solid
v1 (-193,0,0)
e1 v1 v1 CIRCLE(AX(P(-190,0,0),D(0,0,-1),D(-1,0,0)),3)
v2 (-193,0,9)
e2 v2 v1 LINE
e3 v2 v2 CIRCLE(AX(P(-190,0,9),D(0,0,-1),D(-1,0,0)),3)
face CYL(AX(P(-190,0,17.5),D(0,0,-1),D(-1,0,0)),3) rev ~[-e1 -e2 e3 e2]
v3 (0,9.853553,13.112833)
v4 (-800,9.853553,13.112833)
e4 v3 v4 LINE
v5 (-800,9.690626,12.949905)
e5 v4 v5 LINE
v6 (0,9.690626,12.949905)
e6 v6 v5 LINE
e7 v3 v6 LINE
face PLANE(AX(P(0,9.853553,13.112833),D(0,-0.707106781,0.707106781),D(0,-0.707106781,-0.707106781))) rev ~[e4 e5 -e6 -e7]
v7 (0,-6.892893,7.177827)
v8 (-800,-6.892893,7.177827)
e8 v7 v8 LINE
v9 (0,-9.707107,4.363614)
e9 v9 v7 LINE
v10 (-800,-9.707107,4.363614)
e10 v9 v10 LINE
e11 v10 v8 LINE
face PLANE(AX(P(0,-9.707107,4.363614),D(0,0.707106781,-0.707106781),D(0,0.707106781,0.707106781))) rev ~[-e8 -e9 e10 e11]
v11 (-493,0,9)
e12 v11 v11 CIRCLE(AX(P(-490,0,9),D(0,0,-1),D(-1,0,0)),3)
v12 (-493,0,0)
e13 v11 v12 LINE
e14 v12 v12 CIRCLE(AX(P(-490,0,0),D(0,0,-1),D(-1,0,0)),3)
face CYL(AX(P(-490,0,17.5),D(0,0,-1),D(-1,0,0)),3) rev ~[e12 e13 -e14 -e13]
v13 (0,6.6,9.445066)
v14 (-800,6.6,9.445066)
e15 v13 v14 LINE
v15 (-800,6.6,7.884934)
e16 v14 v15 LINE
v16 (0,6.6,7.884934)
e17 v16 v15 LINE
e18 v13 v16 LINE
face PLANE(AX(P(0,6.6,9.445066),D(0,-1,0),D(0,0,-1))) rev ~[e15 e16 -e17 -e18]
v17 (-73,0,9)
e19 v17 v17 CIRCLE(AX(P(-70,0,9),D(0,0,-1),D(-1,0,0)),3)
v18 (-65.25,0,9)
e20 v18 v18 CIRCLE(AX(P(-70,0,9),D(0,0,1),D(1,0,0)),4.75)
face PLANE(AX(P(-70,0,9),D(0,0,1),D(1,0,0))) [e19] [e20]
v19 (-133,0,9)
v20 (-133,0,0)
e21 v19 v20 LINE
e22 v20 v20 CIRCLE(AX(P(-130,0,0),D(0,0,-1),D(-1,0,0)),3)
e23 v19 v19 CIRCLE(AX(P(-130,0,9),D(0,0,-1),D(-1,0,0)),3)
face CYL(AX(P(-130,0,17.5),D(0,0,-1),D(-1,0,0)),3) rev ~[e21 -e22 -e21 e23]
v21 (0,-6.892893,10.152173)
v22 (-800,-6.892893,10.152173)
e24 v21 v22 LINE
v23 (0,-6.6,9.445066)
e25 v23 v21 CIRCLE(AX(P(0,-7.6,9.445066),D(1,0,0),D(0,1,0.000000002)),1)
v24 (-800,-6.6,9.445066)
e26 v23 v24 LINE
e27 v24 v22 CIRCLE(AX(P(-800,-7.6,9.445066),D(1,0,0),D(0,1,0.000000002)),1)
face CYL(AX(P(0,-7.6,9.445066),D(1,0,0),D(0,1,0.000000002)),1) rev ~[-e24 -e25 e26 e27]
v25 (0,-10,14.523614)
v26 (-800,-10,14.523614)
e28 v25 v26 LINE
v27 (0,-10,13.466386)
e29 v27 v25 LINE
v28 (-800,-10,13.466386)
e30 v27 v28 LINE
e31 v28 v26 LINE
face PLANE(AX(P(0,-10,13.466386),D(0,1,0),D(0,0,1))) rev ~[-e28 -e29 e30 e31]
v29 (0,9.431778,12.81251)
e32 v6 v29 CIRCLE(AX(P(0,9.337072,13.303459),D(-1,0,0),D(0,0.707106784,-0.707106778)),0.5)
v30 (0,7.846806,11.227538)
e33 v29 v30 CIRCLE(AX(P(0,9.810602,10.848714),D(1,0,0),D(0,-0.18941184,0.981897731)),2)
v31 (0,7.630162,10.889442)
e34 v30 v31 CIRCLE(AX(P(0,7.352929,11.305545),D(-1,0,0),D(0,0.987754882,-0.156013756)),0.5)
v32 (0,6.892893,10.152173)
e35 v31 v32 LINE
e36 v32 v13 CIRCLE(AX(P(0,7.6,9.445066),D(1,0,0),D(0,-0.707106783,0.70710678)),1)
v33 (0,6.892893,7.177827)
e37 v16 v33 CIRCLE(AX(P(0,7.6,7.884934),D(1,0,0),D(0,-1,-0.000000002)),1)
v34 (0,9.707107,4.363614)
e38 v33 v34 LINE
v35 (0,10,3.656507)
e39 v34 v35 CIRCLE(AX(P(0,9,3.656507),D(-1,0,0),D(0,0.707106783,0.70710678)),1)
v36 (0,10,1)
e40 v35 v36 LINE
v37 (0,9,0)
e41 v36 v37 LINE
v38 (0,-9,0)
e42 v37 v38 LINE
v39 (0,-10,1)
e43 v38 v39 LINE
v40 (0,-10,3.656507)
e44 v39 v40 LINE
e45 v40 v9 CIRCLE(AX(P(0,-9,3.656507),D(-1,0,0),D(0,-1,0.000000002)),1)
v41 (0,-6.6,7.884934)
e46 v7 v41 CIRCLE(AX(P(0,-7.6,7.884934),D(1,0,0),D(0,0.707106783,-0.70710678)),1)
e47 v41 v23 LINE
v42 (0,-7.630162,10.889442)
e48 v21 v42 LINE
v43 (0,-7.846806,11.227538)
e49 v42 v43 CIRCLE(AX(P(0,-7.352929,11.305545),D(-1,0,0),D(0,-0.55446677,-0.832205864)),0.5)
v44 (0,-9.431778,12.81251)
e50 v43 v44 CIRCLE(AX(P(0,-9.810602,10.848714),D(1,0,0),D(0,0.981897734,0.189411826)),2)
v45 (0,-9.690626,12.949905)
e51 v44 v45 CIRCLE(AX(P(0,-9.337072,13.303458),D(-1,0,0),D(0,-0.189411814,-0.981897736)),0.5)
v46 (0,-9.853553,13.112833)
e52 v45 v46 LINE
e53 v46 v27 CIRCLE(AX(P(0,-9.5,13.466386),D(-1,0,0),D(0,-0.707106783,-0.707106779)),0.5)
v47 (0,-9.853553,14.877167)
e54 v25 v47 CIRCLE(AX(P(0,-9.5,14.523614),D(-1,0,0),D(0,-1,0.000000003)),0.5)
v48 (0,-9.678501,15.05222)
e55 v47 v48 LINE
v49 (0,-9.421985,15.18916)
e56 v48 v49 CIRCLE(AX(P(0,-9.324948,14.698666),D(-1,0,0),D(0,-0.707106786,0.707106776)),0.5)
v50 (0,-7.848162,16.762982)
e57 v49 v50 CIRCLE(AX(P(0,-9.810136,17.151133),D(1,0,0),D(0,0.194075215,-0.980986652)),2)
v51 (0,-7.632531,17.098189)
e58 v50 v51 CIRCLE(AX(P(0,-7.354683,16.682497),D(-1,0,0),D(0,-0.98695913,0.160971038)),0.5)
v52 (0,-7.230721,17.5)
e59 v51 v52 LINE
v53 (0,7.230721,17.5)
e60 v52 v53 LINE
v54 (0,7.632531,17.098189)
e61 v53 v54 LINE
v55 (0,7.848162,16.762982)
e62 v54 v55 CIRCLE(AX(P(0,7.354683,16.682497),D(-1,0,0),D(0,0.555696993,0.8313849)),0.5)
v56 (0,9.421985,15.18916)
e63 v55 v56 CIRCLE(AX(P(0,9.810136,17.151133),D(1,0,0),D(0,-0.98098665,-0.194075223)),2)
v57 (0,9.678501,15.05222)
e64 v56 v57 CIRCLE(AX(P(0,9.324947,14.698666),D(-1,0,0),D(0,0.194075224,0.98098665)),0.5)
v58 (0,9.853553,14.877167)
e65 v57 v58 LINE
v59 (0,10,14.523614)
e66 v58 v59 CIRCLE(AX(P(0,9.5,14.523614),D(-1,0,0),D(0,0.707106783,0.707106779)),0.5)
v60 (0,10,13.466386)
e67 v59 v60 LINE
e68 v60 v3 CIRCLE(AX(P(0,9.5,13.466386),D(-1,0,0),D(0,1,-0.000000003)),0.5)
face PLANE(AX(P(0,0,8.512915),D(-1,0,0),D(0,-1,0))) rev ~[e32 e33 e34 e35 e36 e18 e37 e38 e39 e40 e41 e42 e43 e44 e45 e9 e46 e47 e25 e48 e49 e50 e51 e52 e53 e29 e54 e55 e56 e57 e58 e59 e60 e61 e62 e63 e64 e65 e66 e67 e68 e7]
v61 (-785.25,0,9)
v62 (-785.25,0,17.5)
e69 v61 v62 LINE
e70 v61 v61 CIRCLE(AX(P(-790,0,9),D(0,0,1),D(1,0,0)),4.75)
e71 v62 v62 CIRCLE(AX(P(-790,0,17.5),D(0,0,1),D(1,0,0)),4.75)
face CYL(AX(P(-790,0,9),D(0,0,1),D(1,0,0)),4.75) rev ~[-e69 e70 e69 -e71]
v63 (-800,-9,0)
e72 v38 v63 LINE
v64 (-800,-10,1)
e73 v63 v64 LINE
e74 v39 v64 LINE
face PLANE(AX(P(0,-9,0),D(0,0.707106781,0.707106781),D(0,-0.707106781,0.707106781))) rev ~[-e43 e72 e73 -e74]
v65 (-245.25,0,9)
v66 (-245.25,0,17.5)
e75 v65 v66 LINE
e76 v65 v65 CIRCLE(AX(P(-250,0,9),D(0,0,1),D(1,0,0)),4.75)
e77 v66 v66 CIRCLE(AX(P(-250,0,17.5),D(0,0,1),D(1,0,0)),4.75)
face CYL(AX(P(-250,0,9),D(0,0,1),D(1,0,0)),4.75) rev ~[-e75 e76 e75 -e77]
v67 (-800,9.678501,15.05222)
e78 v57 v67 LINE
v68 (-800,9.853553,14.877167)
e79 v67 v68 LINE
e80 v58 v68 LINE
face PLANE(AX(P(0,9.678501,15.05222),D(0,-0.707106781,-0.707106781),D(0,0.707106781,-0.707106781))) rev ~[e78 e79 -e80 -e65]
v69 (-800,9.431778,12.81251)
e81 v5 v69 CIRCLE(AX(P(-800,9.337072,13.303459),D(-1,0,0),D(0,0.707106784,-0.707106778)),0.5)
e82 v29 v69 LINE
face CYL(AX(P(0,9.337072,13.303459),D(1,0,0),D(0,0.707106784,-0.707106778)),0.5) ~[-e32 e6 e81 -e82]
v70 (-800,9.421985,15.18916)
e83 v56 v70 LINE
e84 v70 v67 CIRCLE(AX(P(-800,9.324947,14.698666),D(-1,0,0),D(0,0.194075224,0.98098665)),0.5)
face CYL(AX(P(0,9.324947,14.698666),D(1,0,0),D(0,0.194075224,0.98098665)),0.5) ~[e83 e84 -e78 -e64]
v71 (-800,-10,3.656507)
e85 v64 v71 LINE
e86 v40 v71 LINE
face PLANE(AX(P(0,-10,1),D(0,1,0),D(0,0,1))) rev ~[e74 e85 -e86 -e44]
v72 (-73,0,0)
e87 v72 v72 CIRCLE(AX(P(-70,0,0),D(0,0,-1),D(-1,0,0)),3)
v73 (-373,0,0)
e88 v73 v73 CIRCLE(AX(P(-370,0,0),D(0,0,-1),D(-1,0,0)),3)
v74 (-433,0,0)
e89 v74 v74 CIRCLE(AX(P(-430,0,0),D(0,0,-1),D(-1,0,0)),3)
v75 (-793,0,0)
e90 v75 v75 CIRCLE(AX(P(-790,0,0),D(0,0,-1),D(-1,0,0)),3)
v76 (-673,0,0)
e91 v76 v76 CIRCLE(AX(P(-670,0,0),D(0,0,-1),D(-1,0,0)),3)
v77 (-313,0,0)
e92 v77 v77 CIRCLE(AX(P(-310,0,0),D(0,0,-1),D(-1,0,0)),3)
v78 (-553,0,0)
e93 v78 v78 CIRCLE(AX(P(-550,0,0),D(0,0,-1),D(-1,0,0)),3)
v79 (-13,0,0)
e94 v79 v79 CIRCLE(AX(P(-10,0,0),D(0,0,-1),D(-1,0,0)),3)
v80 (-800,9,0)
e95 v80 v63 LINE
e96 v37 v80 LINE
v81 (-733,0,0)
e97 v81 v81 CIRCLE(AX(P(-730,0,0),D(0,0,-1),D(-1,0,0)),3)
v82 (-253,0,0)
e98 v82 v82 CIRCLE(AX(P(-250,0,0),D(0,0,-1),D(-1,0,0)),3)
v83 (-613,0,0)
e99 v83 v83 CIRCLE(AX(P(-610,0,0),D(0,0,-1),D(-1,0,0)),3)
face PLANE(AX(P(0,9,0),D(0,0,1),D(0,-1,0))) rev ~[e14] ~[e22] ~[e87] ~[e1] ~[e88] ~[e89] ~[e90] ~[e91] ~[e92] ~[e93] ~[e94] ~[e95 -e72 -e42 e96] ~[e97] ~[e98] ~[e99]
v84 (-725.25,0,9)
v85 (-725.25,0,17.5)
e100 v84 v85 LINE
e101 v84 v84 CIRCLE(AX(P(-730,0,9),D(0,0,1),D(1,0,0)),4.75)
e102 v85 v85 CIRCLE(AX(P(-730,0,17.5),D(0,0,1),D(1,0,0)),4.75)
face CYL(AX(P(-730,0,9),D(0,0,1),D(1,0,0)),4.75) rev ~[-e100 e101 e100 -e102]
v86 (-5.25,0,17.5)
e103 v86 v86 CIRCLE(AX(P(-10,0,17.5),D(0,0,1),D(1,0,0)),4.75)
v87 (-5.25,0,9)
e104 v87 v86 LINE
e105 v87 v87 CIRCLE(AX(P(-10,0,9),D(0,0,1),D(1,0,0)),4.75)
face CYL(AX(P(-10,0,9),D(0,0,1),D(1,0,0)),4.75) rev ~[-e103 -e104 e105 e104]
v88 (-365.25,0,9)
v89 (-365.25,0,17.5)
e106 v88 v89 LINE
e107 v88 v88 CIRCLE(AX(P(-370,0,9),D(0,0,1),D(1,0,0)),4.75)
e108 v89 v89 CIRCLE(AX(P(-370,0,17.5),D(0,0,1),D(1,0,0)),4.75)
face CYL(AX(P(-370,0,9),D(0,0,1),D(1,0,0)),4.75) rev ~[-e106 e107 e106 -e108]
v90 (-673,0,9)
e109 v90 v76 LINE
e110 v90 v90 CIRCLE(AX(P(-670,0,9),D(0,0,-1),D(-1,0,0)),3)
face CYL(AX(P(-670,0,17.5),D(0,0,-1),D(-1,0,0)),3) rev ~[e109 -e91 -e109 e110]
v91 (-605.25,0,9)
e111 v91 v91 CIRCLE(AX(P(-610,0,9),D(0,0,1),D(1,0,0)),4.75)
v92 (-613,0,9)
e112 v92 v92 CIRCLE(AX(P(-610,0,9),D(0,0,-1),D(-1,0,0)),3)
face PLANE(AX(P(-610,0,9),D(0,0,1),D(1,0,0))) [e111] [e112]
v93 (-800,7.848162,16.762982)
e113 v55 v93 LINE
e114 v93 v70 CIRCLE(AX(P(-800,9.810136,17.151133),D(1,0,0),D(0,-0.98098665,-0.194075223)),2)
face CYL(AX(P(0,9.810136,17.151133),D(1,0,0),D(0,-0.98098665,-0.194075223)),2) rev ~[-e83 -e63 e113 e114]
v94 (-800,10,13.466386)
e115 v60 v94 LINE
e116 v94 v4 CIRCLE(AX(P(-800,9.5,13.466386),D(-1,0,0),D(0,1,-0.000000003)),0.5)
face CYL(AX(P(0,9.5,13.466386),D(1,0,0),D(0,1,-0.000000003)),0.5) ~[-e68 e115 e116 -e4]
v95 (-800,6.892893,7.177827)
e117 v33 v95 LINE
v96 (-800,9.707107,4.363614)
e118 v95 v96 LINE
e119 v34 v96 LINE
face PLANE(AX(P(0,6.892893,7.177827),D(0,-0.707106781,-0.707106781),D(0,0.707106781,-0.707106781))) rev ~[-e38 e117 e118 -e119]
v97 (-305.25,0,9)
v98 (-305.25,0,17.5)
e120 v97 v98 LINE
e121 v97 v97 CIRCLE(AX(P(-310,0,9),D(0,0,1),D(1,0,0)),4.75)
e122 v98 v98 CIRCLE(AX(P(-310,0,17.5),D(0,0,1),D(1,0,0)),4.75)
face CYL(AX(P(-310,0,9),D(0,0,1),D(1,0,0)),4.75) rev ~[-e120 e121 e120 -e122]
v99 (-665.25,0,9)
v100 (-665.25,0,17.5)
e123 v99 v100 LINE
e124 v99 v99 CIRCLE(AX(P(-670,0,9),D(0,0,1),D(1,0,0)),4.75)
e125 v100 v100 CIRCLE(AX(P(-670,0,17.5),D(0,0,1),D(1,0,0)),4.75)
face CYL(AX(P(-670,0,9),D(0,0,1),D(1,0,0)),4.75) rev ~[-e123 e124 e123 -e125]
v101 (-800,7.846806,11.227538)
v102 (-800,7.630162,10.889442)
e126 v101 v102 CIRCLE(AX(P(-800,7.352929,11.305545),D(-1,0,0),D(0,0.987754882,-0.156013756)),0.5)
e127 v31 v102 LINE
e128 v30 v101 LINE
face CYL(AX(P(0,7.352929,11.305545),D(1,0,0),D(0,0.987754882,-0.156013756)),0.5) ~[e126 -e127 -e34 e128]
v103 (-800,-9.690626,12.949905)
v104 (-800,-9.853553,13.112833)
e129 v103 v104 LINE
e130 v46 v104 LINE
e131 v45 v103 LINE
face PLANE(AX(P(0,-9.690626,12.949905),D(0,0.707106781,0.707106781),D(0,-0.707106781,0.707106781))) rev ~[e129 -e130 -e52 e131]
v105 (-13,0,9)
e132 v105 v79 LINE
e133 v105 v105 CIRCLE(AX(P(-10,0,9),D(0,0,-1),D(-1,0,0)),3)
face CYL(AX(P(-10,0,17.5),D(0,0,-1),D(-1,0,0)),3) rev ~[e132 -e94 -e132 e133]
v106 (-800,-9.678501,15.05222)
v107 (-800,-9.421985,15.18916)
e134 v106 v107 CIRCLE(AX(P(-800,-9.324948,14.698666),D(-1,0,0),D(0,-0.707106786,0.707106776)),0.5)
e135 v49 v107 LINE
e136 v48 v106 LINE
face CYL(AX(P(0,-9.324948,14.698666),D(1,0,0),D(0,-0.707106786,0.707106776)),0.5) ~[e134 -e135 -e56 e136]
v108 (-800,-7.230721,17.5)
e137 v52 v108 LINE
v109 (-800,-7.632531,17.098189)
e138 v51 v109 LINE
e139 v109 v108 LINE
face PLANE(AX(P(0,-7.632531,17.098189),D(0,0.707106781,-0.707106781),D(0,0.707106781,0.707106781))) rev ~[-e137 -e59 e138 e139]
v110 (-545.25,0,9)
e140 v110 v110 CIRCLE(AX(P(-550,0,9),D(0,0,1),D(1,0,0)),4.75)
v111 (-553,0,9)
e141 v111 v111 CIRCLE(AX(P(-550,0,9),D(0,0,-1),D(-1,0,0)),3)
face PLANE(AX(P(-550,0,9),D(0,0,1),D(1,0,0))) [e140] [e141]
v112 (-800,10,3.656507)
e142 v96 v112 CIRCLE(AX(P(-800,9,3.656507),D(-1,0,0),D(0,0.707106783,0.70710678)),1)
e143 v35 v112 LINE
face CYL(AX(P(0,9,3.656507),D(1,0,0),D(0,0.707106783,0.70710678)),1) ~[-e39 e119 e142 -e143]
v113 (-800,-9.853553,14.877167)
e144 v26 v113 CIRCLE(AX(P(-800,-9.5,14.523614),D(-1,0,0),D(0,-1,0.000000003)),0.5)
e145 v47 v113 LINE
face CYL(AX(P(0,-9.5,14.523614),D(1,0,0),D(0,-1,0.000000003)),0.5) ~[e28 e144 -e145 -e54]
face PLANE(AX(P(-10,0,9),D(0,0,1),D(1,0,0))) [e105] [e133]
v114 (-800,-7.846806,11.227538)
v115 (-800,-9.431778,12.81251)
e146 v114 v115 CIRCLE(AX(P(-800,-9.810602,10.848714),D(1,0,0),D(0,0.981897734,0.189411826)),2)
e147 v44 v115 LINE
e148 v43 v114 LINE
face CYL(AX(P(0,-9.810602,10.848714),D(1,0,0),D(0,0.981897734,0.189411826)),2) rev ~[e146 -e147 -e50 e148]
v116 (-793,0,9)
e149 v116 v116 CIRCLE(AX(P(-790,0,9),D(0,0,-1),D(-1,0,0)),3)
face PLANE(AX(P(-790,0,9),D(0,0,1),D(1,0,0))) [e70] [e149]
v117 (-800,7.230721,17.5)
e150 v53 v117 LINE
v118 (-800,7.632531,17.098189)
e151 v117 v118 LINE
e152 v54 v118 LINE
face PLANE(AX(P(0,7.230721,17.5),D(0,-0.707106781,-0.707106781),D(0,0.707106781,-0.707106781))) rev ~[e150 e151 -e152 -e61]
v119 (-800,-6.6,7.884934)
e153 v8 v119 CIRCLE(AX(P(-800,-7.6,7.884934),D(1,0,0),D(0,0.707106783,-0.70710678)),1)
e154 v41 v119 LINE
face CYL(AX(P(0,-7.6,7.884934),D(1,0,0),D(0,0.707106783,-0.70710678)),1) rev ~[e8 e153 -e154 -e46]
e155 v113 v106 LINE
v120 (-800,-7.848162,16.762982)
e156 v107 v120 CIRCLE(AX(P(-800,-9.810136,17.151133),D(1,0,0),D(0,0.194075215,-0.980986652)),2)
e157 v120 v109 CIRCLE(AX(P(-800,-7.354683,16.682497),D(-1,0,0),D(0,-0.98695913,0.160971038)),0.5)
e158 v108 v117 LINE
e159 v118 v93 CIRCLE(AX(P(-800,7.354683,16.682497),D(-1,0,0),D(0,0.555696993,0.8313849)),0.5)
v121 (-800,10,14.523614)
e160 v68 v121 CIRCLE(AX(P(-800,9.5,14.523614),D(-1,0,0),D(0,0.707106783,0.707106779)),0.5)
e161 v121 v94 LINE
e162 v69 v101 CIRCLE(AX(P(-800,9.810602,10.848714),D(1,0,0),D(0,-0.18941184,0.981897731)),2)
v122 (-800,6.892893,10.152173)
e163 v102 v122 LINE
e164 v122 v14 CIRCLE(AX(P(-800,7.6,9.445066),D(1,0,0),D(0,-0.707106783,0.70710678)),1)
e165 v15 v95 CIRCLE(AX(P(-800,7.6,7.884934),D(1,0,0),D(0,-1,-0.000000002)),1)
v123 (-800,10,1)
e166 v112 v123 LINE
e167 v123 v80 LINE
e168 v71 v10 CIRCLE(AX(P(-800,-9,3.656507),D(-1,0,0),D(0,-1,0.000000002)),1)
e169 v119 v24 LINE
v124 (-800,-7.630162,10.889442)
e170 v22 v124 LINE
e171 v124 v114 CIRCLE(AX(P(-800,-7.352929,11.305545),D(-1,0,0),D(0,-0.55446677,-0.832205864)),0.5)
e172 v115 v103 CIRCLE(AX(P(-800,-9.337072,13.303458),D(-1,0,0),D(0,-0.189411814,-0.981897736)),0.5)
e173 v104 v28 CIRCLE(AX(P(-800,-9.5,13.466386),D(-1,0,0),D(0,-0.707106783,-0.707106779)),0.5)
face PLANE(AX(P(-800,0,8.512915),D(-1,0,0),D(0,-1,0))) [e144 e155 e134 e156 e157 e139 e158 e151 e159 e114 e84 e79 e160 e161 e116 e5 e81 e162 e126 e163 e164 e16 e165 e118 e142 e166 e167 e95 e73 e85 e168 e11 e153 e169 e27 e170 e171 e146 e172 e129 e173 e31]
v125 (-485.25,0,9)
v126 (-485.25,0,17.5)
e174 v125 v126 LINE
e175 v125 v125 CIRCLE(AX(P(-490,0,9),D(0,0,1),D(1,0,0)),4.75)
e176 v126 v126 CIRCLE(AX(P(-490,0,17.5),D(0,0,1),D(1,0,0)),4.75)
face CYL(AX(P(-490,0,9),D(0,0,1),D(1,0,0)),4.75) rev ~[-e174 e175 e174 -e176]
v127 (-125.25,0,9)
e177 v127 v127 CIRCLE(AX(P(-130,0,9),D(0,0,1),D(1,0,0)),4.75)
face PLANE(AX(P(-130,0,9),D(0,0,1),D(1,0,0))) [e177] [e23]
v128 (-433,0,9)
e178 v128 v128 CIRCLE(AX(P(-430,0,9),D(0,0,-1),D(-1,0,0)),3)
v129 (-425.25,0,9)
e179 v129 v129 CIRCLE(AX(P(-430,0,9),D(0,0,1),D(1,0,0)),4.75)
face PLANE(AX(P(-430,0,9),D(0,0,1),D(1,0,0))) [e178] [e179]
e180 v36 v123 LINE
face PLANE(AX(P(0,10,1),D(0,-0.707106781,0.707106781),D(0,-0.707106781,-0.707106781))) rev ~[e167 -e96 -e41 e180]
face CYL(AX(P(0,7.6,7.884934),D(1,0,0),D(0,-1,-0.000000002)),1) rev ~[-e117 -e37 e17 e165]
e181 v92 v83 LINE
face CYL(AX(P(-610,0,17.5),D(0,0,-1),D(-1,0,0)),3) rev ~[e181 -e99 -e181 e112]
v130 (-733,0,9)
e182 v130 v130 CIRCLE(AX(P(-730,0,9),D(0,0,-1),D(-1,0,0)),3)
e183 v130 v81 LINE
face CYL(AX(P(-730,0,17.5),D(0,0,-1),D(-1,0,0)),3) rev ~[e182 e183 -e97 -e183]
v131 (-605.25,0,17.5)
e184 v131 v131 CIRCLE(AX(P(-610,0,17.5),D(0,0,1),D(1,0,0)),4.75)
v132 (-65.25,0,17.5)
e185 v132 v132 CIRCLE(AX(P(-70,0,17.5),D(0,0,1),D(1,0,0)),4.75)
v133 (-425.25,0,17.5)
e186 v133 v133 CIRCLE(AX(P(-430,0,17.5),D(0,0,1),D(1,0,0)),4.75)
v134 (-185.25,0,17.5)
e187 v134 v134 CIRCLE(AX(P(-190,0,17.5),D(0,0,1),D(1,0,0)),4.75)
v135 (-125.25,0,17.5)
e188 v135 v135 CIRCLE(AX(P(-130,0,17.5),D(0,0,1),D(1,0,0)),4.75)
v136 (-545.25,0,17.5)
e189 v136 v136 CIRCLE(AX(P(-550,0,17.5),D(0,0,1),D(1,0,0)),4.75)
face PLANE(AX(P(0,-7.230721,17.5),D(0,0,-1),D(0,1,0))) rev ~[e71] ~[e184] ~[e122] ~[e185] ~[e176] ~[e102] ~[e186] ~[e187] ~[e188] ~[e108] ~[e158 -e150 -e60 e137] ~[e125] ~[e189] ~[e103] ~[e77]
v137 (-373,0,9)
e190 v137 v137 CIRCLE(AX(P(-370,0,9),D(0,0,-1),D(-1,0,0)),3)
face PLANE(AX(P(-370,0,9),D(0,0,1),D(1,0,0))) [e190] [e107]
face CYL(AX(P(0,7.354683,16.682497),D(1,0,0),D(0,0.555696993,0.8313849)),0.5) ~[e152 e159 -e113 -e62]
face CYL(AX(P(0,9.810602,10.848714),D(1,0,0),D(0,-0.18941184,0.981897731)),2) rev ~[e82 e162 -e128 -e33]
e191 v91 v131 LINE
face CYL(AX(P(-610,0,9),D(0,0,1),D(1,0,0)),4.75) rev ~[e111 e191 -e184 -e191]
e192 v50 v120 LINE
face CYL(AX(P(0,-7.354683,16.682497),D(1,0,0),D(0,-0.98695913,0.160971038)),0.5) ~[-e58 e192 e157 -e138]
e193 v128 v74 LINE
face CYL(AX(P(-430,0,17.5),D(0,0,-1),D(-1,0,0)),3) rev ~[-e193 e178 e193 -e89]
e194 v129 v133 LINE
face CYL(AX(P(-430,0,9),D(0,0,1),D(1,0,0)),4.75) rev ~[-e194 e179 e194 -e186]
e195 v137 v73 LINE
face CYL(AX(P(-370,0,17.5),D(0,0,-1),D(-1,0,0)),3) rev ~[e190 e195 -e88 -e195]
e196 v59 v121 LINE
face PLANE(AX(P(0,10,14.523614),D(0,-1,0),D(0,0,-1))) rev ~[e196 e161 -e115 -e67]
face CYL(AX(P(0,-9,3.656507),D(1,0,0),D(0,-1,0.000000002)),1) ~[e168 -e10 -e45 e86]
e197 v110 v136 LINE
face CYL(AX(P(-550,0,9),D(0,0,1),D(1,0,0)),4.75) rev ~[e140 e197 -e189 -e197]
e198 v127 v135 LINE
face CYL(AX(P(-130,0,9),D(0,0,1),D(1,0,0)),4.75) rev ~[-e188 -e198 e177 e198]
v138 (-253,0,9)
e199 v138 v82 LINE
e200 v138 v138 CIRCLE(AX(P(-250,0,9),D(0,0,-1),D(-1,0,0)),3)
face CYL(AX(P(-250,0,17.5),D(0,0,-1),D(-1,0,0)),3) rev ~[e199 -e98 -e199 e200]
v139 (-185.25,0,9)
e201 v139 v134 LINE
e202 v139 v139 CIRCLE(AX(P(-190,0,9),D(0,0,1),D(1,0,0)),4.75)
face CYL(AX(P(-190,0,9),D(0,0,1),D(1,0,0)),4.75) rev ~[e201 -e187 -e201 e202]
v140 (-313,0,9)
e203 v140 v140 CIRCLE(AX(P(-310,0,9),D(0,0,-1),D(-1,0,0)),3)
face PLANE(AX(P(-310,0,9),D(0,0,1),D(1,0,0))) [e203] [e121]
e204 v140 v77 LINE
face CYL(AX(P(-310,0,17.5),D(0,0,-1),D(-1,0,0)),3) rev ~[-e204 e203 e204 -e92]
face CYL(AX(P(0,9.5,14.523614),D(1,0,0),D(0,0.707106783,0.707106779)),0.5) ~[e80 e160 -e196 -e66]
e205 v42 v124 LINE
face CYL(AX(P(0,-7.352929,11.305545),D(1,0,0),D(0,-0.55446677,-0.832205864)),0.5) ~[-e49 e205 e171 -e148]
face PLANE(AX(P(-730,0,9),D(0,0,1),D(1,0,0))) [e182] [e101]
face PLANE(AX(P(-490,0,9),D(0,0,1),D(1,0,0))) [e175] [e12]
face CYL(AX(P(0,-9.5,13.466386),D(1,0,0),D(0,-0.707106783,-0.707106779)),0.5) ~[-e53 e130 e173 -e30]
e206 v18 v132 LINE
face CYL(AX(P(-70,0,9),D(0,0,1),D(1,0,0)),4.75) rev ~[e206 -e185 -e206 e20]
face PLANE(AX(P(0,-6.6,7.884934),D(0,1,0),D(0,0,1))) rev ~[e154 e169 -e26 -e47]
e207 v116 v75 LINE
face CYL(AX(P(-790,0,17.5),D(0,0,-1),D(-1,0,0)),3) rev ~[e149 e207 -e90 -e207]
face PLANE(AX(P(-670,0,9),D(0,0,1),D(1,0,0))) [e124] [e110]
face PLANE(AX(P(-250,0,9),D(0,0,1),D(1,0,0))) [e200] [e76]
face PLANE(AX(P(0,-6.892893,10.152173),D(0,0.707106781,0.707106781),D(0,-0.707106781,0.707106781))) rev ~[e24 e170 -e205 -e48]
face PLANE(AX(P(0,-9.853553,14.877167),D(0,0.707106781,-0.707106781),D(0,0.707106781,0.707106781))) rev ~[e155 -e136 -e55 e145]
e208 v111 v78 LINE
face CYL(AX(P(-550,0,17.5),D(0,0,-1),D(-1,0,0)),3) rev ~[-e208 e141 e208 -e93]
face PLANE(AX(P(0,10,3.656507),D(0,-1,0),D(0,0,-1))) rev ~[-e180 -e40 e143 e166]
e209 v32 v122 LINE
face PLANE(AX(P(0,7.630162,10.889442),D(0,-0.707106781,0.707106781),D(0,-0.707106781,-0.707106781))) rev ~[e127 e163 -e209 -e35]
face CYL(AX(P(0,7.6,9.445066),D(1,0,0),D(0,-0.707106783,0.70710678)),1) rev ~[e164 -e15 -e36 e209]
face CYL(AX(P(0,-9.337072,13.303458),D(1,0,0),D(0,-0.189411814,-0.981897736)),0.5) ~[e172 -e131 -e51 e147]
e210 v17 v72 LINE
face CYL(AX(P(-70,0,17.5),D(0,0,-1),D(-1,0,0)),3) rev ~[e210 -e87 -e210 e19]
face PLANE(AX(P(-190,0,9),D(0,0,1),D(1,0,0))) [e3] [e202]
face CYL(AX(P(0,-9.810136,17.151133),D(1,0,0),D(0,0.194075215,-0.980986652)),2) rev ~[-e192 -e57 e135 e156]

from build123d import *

# Parameters (mm, degrees)
HGR_HGR20_1_DEPTH = 800
HOLE1_D           = 6
HOLE1_CBORE_D     = 9.5
HOLE1_CBORE_DEPTH = 8.5
CRVPATTERN1_COUNT = 14
CRVPATTERN1_PITCH = 60


with BuildPart() as part:
    # Sketch14 → Hgr HGR20(1) (new body)
    with BuildSketch(Plane(origin=(0, 0, 0), x_dir=(0, -1, 0), z_dir=(-1, 0, 0))):
        with BuildLine():
            Line((-9, 0), (9, 0))
            Line((9, 0), (10, 1))
            Line((10, 1), (10, 3.656507036))
            ThreePointArc((10, 3.656507036), (9.92387953, 4.039190479), (9.707106773, 4.363613837))
            Line((9.707106773, 4.363613837), (6.892893227, 7.177827383))
            ThreePointArc((6.892893227, 7.177827383), (6.67612047, 7.502250741), (6.6, 7.884934184))
            Line((6.6, 7.884934184), (6.6, 9.445065806))
            ThreePointArc((6.6, 9.445065806), (6.67612047, 9.827749249), (6.892893227, 10.152172607))
            Line((6.892893227, 10.152172607), (7.63016236, 10.88944174))
            ThreePointArc((7.63016236, 10.88944174), (7.773916168, 11.035785916), (7.84680643, 11.2275378))
            ThreePointArc((7.84680643, 11.2275378), (8.396388337, 12.262927707), (9.431778248, 12.812509604))
            ThreePointArc((9.431778248, 12.812509604), (9.57149389, 12.861817745), (9.690625667, 12.949905047))
            Line((9.690625667, 12.949905047), (9.85355341, 13.11283279))
            ThreePointArc((9.85355341, 13.11283279), (9.961939771, 13.275044443), (10, 13.466386134))
            Line((10, 13.466386134), (10, 14.523613846))
            ThreePointArc((10, 14.523613846), (9.961939771, 14.714955537), (9.85355341, 14.87716719))
            Line((9.85355341, 14.87716719), (9.678500884, 15.052219716))
            ThreePointArc((9.678500884, 15.052219716), (9.560417671, 15.13974885), (9.421985128, 15.189159636))
            ThreePointArc((9.421985128, 15.189159636), (8.395921997, 15.736919373), (7.84816225, 16.7629825))
            ThreePointArc((7.84816225, 16.7629825), (7.7751915, 16.95300083), (7.63253117, 17.09818942))
            Line((7.63253117, 17.09818942), (7.23072061, 17.49999998))
            Line((7.23072061, 17.49999998), (-7.23072061, 17.49999998))
            Line((-7.23072061, 17.49999998), (-7.63253117, 17.09818942))
            ThreePointArc((-7.63253117, 17.09818942), (-7.775191493, 16.953000826), (-7.84816225, 16.7629825))
            ThreePointArc((-7.84816225, 16.7629825), (-8.395921988, 15.736919382), (-9.421985103, 15.189159641))
            ThreePointArc((-9.421985103, 15.189159641), (-9.560417671, 15.139748844), (-9.678500907, 15.052219693))
            Line((-9.678500907, 15.052219693), (-9.85355341, 14.87716719))
            ThreePointArc((-9.85355341, 14.87716719), (-9.961939771, 14.714955537), (-10, 14.523613846))
            Line((-10, 14.523613846), (-10, 13.466386134))
            ThreePointArc((-10, 13.466386134), (-9.961939771, 13.275044443), (-9.85355341, 13.11283279))
            Line((-9.85355341, 13.11283279), (-9.690625709, 12.949905089))
            ThreePointArc((-9.690625709, 12.949905089), (-9.571493891, 12.861817755), (-9.431778202, 12.812509595))
            ThreePointArc((-9.431778202, 12.812509595), (-8.39638832, 12.26292769), (-7.84680643, 11.2275378))
            ThreePointArc((-7.84680643, 11.2275378), (-7.773916172, 11.035785914), (-7.63016236, 10.88944174))
            Line((-7.63016236, 10.88944174), (-6.892893227, 10.152172607))
            ThreePointArc((-6.892893227, 10.152172607), (-6.67612047, 9.827749249), (-6.6, 9.445065806))
            Line((-6.6, 9.445065806), (-6.6, 7.884934184))
            ThreePointArc((-6.6, 7.884934184), (-6.67612047, 7.502250741), (-6.892893227, 7.177827383))
            Line((-6.892893227, 7.177827383), (-9.707106773, 4.363613837))
            ThreePointArc((-9.707106773, 4.363613837), (-9.92387953, 4.039190479), (-10, 3.656507036))
            Line((-10, 3.656507036), (-10, 1))
            Line((-10, 1), (-9, 0))
        make_face()
    extrude(amount=HGR_HGR20_1_DEPTH)

    # Hole1 (through all)
    with Locations(Plane.XY.offset(17.49999998)):
        with Locations((-10, 0)):
            hole1 = CounterBoreHole(HOLE1_D / 2, HOLE1_CBORE_D / 2, HOLE1_CBORE_DEPTH)

    # CrvPattern1: Hole1 ×14
    with Locations(*[(-i * CRVPATTERN1_PITCH, 0, 0) for i in range(1, CRVPATTERN1_COUNT)]):
        add(hole1, mode=Mode.SUBTRACT)


solid = part.part
